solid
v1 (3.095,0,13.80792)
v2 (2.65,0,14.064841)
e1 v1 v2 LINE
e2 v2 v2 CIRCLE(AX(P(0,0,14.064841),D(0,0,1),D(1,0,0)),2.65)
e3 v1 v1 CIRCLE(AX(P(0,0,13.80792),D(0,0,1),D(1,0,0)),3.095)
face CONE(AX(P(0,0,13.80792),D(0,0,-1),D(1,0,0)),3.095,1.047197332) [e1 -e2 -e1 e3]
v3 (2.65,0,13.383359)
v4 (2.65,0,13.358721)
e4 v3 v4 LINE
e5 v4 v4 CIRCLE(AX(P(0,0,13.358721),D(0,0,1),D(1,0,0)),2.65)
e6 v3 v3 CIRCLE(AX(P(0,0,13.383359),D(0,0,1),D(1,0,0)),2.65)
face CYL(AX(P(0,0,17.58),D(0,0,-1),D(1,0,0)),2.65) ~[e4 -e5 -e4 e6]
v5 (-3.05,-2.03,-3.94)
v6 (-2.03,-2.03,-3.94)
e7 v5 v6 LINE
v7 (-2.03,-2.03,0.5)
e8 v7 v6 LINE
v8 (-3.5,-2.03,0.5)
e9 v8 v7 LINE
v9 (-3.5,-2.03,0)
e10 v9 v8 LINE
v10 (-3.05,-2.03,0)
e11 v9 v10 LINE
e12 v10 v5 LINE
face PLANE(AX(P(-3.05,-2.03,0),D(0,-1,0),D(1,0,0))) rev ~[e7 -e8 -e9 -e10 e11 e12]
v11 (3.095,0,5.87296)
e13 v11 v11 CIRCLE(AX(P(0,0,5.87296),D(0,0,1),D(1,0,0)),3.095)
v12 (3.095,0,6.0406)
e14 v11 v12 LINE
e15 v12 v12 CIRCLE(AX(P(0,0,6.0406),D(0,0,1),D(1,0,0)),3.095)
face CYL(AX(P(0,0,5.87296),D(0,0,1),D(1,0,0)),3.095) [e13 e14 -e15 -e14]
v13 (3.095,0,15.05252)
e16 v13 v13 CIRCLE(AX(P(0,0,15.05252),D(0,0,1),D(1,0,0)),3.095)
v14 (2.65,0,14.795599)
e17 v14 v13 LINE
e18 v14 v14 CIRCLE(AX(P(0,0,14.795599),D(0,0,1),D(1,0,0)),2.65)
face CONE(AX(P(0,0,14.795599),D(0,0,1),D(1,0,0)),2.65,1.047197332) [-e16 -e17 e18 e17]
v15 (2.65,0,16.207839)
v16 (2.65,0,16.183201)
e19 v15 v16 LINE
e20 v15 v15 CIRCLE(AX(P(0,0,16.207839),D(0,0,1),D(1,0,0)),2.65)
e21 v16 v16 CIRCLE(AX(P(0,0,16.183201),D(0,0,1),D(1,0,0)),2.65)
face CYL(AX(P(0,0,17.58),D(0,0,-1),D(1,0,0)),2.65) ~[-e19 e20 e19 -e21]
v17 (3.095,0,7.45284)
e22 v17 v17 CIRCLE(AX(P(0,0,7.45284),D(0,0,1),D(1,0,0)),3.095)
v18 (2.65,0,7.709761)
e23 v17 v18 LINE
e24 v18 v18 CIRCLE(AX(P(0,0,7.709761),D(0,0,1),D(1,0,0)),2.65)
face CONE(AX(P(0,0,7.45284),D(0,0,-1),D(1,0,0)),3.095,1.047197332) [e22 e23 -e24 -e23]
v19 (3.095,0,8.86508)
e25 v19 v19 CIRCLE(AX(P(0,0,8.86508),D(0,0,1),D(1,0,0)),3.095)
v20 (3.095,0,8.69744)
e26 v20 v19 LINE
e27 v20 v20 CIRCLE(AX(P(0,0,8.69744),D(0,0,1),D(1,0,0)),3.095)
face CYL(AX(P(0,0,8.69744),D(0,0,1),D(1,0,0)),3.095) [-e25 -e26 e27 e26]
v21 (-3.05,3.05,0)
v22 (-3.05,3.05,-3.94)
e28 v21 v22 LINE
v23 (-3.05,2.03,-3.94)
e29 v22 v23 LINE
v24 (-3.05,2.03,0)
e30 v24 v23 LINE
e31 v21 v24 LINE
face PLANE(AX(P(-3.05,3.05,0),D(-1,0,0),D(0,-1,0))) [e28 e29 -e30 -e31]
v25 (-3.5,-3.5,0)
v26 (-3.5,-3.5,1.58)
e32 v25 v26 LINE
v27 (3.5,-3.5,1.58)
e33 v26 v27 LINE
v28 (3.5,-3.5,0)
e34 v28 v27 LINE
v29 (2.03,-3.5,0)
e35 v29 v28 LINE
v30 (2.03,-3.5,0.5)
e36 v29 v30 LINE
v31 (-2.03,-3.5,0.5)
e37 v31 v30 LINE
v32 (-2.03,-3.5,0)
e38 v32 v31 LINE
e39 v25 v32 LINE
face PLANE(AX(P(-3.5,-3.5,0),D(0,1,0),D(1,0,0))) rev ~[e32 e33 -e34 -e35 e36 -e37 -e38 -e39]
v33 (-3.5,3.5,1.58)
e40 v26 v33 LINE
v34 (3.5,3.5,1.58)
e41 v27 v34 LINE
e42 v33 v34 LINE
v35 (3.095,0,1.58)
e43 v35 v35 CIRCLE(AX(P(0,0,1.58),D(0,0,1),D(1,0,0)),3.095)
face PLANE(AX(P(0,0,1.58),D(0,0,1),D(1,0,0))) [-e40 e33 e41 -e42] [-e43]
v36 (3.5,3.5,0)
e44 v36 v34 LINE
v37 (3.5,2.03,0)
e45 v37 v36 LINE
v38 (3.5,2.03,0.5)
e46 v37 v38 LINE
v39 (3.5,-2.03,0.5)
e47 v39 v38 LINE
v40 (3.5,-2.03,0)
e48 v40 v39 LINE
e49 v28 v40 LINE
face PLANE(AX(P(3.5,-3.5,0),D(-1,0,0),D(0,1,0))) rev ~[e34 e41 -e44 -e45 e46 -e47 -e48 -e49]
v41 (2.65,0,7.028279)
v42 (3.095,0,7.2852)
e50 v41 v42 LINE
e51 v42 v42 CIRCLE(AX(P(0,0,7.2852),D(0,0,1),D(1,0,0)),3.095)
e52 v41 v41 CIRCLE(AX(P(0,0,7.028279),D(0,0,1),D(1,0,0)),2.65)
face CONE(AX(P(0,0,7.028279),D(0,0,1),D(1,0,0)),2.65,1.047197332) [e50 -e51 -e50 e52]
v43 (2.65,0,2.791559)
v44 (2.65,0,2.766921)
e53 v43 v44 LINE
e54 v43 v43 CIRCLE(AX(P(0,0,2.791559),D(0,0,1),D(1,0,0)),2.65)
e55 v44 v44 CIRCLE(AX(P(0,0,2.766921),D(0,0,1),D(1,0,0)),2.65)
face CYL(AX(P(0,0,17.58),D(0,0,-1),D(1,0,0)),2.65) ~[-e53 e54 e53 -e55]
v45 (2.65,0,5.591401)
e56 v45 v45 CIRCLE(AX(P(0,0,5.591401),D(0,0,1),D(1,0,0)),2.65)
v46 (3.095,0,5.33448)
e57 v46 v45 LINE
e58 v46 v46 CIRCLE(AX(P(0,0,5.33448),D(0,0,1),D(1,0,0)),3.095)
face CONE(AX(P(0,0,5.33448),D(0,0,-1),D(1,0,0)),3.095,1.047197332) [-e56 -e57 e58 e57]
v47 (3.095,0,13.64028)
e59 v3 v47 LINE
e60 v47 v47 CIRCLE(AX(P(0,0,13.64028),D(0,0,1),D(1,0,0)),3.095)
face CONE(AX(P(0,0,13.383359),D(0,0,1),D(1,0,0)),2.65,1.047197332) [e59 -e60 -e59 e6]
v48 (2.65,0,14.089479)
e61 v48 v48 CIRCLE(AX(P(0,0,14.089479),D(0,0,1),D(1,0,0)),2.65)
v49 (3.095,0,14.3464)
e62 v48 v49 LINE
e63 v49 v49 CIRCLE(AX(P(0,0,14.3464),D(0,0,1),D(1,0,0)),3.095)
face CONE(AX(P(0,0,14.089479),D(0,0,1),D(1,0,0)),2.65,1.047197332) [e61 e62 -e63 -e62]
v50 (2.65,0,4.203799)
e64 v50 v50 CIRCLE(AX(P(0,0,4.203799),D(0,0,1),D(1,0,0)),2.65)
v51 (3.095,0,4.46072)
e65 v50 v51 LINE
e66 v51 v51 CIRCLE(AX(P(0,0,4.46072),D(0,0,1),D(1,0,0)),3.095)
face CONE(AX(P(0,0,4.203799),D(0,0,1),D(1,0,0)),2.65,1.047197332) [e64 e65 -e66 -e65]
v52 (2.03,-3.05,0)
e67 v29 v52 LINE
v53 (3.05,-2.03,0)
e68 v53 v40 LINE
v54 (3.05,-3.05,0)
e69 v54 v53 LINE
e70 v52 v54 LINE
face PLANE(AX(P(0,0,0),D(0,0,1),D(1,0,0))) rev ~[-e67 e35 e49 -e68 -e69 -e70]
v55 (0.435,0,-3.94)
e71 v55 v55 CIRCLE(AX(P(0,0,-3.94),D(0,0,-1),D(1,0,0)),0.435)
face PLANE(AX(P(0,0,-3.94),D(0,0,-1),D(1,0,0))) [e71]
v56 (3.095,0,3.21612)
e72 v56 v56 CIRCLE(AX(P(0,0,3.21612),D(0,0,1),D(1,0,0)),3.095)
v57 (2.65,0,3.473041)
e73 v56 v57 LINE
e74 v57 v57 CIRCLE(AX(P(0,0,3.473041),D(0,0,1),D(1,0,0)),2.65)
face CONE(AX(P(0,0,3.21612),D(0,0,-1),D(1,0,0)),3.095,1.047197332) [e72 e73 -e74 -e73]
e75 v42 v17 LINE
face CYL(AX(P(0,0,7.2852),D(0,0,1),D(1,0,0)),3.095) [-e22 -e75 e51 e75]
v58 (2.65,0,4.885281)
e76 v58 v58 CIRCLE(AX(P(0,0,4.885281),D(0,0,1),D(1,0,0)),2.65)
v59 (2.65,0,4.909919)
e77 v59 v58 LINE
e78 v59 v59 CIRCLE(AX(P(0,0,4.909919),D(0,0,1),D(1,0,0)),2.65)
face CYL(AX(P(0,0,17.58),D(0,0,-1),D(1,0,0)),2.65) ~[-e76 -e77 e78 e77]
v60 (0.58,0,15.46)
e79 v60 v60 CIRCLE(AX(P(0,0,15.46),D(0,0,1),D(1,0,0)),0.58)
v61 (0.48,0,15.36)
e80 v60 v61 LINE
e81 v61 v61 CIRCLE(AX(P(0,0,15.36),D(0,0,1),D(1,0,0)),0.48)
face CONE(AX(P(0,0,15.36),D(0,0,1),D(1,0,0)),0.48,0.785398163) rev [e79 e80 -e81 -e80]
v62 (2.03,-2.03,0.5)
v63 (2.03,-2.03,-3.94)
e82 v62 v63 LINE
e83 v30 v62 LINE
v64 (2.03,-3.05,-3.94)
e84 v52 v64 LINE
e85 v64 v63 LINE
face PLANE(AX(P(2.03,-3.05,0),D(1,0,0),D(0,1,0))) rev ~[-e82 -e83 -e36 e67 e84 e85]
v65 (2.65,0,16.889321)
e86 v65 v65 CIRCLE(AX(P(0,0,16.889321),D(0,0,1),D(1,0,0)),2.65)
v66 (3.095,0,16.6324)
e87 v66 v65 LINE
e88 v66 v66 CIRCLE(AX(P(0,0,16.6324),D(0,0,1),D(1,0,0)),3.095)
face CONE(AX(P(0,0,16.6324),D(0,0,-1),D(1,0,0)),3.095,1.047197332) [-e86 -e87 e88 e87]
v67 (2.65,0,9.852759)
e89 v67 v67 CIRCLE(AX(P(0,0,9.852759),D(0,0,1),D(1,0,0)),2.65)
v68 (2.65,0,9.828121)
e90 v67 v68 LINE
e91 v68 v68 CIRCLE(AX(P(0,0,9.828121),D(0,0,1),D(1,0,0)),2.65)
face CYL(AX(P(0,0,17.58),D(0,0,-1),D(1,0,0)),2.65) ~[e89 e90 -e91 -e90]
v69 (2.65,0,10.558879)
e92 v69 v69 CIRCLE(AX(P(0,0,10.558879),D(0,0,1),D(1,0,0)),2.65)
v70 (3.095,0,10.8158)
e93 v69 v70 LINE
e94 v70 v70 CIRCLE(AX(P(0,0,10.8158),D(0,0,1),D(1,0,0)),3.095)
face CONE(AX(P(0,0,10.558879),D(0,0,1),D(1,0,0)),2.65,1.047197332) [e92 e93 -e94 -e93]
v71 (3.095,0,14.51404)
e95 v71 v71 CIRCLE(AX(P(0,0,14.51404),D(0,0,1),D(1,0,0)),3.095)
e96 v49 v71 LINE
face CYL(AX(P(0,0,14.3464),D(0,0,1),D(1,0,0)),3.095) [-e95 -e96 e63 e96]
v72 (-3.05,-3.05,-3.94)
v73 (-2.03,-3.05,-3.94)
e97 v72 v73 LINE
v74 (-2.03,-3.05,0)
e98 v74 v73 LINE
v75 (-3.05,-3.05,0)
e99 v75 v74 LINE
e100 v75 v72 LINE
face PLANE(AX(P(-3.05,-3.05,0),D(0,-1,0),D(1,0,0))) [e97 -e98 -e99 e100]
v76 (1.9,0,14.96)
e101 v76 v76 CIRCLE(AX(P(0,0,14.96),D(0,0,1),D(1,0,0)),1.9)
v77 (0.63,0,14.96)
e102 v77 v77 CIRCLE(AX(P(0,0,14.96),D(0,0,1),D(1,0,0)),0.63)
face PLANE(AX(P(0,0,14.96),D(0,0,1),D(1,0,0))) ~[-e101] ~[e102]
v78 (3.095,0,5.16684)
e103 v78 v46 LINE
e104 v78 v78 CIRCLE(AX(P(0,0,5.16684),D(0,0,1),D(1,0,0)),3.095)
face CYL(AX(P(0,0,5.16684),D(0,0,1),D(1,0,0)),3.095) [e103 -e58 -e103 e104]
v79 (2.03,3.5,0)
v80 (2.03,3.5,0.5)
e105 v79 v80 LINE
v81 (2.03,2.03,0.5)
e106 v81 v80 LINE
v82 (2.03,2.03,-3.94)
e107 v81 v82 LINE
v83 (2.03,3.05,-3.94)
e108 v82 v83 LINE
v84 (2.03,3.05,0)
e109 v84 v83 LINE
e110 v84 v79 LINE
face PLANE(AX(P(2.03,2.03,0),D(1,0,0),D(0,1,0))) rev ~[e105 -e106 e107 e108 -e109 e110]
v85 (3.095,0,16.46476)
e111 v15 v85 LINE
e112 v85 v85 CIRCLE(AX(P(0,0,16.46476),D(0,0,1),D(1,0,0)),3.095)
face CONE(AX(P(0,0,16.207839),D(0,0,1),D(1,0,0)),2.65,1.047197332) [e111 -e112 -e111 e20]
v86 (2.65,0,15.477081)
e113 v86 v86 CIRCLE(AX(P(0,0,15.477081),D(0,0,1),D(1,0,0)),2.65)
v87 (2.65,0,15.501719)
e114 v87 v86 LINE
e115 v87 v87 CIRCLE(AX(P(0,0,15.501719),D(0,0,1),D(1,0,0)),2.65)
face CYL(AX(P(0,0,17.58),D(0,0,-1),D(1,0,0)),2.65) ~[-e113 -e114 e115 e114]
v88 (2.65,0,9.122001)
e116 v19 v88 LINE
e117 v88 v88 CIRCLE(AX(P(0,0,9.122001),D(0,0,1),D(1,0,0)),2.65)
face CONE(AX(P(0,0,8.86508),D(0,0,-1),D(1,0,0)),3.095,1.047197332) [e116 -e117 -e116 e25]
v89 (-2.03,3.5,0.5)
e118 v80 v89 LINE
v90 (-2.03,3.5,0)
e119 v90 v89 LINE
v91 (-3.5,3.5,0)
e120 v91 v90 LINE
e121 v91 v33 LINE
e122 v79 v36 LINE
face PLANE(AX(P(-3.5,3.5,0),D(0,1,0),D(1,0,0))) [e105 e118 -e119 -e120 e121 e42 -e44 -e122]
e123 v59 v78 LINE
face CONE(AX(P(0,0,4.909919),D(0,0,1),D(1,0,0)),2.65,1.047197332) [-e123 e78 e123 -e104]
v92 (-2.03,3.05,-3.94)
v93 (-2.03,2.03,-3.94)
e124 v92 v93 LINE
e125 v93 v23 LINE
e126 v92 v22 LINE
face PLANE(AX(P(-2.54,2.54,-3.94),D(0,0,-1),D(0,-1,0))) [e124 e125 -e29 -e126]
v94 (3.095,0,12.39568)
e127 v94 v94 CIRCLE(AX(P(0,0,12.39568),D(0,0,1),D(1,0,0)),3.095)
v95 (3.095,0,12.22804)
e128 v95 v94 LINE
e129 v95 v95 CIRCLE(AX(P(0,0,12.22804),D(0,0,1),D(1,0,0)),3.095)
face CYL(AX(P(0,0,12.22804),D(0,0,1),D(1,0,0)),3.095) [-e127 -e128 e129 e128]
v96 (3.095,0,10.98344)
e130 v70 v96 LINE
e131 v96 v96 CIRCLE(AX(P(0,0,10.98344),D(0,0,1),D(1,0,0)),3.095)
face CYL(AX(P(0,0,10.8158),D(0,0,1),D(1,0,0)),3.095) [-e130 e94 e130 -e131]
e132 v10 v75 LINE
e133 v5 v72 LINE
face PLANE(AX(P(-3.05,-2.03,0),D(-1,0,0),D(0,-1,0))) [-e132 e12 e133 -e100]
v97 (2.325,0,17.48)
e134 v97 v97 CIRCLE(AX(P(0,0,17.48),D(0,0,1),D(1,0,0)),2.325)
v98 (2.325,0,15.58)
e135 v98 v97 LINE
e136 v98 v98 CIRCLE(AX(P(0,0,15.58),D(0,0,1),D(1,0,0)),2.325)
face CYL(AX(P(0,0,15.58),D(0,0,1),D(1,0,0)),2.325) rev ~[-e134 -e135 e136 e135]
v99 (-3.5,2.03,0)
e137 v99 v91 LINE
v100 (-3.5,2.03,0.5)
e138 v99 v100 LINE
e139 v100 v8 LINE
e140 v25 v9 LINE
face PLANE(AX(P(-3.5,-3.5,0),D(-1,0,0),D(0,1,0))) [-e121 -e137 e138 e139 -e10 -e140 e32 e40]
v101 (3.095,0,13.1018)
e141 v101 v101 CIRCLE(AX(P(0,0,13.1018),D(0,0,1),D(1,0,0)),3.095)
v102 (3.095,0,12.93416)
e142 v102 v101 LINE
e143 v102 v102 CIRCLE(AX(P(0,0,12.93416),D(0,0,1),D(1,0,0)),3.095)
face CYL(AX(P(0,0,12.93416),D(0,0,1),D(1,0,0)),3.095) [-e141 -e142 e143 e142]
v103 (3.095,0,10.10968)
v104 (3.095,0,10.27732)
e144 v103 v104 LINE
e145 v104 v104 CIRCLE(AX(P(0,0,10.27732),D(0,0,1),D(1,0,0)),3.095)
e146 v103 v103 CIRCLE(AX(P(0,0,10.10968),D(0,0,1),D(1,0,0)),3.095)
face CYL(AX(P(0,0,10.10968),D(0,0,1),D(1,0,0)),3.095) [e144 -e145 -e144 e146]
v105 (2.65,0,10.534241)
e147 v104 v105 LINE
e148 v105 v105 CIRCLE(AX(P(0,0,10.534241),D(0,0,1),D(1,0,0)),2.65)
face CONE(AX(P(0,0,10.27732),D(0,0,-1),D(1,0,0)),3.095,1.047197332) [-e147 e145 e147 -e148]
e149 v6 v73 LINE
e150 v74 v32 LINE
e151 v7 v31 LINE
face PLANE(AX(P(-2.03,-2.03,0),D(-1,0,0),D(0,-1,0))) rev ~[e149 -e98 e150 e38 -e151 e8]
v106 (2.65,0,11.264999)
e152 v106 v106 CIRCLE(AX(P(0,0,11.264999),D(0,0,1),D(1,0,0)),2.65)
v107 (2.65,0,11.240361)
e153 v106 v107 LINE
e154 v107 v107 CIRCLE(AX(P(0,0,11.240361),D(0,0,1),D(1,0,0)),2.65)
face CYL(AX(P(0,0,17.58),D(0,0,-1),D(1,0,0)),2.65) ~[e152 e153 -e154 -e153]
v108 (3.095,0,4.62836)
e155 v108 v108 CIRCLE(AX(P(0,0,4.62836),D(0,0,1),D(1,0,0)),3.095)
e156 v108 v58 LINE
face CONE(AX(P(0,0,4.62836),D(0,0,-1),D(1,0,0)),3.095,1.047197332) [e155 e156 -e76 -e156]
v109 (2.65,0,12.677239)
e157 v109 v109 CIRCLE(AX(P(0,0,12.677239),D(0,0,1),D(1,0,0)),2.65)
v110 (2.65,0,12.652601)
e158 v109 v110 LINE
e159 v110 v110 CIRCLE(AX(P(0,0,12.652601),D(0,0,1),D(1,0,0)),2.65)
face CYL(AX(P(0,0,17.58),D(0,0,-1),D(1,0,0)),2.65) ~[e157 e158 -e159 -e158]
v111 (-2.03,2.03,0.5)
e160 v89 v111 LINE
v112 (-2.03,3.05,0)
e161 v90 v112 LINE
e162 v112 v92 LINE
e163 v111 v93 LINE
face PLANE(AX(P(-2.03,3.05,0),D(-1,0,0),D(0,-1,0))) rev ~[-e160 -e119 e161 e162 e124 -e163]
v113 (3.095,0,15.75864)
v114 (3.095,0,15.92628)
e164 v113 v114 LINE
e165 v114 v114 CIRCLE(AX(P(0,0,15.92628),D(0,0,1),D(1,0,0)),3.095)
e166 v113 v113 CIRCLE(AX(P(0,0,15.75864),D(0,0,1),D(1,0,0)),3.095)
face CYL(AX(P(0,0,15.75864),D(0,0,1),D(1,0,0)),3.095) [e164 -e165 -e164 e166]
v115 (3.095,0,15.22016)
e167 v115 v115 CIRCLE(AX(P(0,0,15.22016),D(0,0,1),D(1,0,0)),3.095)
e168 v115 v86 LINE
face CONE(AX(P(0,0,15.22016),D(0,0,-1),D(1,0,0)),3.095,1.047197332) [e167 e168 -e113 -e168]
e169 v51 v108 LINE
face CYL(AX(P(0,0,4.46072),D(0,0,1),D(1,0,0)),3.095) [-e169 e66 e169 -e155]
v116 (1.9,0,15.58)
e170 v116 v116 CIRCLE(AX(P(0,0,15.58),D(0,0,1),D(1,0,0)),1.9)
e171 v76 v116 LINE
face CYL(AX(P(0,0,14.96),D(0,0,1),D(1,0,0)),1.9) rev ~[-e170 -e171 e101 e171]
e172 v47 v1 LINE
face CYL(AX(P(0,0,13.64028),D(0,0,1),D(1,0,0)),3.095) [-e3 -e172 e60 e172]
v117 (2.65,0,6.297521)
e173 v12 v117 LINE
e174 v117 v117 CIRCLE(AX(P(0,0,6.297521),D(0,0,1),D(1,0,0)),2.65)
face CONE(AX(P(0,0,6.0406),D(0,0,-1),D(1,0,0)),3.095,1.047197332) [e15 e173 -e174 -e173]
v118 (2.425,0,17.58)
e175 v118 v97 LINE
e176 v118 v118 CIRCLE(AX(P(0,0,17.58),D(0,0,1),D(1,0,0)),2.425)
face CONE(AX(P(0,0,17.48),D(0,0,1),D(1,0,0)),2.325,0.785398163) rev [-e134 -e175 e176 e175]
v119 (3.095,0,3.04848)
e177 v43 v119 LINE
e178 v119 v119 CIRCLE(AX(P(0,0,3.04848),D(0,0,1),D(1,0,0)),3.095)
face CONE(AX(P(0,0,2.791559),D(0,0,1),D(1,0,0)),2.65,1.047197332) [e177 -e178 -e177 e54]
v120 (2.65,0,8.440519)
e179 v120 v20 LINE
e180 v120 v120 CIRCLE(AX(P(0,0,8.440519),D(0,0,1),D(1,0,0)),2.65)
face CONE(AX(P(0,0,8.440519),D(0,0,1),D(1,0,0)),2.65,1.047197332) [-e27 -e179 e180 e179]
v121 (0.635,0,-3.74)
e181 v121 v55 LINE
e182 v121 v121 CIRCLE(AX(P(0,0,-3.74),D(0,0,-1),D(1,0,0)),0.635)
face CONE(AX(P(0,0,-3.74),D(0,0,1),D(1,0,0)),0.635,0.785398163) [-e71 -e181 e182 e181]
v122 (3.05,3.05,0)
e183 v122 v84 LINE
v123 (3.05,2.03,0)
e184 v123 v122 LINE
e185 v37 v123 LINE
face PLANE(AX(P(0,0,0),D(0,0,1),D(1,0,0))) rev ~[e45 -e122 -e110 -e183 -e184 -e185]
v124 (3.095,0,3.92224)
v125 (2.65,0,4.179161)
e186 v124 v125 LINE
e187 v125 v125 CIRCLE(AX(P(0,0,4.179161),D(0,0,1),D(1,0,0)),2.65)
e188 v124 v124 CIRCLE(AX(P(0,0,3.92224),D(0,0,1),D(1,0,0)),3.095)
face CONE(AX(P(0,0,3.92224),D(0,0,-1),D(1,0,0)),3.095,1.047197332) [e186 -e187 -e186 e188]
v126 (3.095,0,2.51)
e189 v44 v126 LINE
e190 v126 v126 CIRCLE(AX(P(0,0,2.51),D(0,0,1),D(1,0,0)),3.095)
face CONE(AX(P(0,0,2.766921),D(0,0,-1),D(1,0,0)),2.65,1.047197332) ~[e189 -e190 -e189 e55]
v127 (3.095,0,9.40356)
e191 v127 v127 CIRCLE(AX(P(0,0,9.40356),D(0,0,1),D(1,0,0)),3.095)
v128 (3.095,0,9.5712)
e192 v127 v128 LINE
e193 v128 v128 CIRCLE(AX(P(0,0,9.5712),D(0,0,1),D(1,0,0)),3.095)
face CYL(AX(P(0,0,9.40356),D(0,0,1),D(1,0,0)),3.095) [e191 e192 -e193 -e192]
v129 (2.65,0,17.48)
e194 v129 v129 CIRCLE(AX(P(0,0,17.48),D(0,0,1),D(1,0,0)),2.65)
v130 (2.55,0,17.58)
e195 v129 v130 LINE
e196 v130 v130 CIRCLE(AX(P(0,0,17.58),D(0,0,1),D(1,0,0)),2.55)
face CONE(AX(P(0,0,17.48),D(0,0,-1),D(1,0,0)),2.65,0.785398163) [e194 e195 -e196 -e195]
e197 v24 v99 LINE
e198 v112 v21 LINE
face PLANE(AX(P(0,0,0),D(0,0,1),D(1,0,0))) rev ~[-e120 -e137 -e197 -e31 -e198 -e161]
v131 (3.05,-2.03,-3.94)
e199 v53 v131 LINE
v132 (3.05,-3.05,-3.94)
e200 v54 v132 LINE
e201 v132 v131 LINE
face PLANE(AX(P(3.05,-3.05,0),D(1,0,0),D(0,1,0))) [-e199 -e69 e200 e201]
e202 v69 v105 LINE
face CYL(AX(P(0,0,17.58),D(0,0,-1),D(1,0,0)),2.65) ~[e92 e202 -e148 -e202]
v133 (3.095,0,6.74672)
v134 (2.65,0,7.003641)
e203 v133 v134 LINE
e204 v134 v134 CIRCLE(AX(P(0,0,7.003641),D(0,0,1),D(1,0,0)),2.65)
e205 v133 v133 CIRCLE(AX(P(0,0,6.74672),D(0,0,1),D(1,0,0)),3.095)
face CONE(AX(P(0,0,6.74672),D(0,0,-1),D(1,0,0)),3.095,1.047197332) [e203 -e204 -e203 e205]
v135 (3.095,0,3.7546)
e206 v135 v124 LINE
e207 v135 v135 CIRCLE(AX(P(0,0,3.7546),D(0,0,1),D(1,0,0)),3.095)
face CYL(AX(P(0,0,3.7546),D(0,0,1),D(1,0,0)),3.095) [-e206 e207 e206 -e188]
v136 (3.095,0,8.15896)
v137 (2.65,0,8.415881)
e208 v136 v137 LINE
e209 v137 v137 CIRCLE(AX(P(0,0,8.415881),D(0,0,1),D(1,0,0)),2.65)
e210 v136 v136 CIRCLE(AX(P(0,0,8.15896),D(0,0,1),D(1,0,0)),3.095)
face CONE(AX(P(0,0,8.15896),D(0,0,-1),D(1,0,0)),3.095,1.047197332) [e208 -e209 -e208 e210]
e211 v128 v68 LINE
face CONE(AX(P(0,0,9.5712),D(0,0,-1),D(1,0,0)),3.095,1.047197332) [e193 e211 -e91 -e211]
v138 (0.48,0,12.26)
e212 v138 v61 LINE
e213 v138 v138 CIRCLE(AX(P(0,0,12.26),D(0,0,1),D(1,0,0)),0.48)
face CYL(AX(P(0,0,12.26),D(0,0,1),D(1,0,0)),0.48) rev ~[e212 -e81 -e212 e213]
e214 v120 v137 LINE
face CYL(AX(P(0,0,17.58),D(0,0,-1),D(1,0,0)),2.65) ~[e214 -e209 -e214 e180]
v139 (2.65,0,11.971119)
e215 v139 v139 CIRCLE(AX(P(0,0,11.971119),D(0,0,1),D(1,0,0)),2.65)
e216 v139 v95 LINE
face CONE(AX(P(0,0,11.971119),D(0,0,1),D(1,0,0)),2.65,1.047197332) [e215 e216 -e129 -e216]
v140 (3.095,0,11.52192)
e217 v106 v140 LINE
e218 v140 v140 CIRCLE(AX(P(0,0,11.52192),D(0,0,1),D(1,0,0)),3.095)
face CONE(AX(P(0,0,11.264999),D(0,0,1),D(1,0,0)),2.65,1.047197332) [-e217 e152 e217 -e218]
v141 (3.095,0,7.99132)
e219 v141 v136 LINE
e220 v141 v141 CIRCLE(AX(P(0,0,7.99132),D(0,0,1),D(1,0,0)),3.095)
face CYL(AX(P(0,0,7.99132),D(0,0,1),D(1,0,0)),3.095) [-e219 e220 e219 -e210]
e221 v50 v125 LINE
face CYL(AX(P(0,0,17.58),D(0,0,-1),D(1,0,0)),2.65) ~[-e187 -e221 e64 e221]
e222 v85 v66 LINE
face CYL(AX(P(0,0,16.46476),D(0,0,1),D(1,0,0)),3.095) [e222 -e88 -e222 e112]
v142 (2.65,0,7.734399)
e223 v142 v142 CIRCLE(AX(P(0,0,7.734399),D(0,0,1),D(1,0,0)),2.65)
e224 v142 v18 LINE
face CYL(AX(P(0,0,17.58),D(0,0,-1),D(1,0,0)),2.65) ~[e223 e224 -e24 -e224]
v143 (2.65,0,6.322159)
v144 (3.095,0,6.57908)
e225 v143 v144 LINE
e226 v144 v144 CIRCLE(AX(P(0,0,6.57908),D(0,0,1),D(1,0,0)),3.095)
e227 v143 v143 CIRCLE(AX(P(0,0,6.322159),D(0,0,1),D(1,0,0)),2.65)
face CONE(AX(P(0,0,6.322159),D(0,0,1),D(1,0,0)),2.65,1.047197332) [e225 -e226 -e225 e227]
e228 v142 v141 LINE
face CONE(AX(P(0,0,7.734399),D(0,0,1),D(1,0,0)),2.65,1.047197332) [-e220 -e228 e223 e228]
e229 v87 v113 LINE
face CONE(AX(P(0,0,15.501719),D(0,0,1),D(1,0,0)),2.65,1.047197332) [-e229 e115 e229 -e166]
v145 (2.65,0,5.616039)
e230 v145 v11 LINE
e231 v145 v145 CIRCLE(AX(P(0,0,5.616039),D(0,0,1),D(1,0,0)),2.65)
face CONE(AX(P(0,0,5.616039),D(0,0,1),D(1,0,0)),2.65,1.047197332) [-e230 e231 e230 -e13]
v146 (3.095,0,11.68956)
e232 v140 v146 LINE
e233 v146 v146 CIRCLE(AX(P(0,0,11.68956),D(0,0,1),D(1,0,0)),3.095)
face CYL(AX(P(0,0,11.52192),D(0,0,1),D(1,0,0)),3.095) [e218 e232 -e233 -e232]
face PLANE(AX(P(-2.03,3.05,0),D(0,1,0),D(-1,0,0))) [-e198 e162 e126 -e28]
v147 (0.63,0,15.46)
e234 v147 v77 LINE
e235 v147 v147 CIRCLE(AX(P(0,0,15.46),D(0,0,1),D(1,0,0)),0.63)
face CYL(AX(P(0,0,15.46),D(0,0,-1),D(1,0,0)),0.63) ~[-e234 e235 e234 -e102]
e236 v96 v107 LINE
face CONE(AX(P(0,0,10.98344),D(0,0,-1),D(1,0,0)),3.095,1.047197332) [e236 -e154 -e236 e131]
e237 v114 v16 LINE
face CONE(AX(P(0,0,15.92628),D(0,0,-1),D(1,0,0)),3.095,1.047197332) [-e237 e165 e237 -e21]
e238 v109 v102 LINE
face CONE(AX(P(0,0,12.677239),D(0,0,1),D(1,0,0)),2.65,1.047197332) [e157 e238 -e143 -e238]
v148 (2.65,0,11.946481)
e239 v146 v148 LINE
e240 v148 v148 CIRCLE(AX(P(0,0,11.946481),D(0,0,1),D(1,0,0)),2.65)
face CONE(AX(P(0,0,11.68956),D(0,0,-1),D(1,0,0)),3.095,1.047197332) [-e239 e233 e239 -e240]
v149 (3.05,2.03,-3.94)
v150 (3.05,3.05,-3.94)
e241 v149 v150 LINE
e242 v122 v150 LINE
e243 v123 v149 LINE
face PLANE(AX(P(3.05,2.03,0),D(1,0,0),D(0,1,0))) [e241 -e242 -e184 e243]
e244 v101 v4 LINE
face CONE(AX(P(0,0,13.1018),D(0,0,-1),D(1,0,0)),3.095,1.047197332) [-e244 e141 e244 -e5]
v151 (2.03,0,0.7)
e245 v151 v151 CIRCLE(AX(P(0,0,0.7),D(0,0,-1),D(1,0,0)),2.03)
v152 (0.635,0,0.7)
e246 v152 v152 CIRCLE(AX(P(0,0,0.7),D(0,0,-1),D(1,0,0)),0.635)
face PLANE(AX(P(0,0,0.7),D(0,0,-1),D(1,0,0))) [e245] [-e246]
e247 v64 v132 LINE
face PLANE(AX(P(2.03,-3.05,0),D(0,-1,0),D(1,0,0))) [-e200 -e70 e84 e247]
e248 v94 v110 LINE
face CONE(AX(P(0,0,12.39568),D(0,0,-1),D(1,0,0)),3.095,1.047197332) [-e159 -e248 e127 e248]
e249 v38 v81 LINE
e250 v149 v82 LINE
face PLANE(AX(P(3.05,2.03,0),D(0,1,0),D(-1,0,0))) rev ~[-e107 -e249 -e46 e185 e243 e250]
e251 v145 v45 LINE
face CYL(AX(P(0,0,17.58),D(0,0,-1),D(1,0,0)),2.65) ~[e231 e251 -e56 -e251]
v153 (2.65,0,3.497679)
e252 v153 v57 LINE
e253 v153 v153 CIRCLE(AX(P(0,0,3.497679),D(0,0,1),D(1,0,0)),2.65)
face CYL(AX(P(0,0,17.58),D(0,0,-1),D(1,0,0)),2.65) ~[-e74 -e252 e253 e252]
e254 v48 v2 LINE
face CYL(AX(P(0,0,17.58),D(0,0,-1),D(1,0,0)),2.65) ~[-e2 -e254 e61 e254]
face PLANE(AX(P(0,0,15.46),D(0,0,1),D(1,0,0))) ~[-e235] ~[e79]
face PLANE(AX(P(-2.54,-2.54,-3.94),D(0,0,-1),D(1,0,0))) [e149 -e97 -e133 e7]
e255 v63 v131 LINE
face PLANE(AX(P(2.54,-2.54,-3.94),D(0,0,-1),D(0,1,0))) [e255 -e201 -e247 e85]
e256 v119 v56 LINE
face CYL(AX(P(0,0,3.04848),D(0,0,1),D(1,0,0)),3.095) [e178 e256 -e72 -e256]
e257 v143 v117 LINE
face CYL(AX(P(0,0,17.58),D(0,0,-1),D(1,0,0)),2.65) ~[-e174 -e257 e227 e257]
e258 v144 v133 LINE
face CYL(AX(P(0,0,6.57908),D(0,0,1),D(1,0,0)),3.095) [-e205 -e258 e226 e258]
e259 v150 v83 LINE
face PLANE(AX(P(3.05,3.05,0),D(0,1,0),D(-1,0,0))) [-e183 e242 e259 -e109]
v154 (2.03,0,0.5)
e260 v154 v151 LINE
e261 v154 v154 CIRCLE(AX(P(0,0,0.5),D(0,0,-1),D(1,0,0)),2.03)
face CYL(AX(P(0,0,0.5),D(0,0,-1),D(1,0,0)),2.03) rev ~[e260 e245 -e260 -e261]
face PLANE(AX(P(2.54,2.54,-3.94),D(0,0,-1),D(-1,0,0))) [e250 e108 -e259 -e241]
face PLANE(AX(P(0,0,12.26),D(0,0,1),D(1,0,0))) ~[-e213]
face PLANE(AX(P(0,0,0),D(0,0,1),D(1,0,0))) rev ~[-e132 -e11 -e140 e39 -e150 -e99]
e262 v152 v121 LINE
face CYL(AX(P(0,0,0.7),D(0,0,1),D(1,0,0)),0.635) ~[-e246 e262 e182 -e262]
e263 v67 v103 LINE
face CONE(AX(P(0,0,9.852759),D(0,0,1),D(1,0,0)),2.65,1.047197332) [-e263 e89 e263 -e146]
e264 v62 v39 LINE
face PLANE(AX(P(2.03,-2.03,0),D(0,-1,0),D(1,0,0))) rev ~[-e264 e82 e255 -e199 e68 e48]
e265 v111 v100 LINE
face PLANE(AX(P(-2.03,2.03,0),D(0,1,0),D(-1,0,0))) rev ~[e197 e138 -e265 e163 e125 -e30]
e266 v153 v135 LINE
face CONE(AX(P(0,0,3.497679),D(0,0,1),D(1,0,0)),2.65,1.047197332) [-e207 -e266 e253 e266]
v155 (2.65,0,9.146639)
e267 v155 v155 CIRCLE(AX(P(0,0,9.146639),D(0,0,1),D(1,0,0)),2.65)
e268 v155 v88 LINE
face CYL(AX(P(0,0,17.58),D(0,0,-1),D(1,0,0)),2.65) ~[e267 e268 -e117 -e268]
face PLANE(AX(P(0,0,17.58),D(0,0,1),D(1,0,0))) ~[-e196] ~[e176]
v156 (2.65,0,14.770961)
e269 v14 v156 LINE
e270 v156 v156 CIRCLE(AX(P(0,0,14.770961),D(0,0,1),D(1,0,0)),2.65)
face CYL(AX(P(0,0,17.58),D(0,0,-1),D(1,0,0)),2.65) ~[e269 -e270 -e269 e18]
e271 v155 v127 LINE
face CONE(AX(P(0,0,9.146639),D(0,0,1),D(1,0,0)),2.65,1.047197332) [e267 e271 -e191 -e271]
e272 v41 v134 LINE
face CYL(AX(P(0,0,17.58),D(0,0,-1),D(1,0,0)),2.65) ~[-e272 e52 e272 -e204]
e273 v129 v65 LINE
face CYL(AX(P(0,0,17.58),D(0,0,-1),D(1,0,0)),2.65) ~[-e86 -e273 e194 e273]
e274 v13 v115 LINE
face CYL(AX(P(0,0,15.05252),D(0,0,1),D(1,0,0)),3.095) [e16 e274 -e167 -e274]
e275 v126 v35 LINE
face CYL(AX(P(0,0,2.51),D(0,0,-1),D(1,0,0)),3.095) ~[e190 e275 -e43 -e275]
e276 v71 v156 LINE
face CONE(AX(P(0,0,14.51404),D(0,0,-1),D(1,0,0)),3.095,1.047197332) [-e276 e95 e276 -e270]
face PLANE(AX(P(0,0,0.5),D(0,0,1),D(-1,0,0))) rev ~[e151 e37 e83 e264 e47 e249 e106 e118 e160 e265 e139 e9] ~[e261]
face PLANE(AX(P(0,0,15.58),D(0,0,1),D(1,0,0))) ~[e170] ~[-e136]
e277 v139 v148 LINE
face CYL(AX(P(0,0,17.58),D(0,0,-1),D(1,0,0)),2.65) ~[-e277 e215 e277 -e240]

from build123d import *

# Parameters (mm, degrees)
SKETCH_W           = 7
SKETCH_H           = 7
PAD_DEPTH          = 1.58
POCKET_DEPTH       = 0.5
SKETCH002_W        = 1.02
SKETCH002_H        = 1.02
PAD001_DEPTH       = 3.94
POLARPATTERN_COUNT = 4
SKETCH003_R        = 2.03
POCKET001_DEPTH    = 0.2
SKETCH004_R        = 0.635
PAD002_DEPTH       = 4.64
CHAMFER_SIZE       = 0.2
CHAMFER001_SIZE    = 0.1
CHAMFER002_SIZE    = 0.1


with BuildPart() as part:
    # Sketch → Pad (new body)
    with BuildSketch(Plane.XY):
        Rectangle(SKETCH_W, SKETCH_H)
    extrude(amount=PAD_DEPTH)

    # Sketch001 (on Face5 of Pad) → Pocket (cut)
    with BuildSketch(Plane(origin=(0, 0, 0), x_dir=(1, 0, 0), z_dir=(0, 0, -1))):
        Polygon((-3.5, 2.03), (-2.03, 2.03), (-2.03, 3.5), (2.03, 3.5), (2.03, 2.03), (3.5, 2.03), (3.5, -2.03), (2.03, -2.03), (2.03, -3.5), (-2.03, -3.5), (-2.03, -2.03), (-3.5, -2.03), align=None)
    extrude(amount=-POCKET_DEPTH, mode=Mode.SUBTRACT)

    # Sketch002 (on Face6 of Pocket) → Pad001 (join)
    with BuildSketch(Plane(origin=(0, 0, 0), x_dir=(1, 0, 0), z_dir=(0, 0, -1))):
        with Locations((-2.54, 2.54)):
            Rectangle(SKETCH002_W, SKETCH002_H)
    pad001 = extrude(amount=PAD001_DEPTH)

    # PolarPattern: Pad001 ×4 about axis
    polarpattern_axis = Axis((0, 0, 0), (0, 0, -1))
    for i in range(1, POLARPATTERN_COUNT):
        add(pad001.rotate(polarpattern_axis, i * 360 / POLARPATTERN_COUNT))

    # Sketch003 (on Face4 of PolarPattern) → Pocket001 (cut)
    with BuildSketch(Plane(origin=(0, 0, 0.5), x_dir=(1, 0, 0), z_dir=(0, 0, -1))):
        Circle(SKETCH003_R)
    extrude(amount=-POCKET001_DEPTH, mode=Mode.SUBTRACT)

    # Sketch004 (on Face33 of Pocket001) → Pad002 (join)
    with BuildSketch(Plane(origin=(0, 0, 0.7), x_dir=(1, 0, 0), z_dir=(0, 0, -1))):
        Circle(SKETCH004_R)
    extrude(amount=PAD002_DEPTH)

    # Chamfer
    chamfer_edges = [part.edges().sort_by_distance(p)[0] for p in [
        (-0.635, 0, -3.94),
    ]]
    chamfer(chamfer_edges, length=CHAMFER_SIZE)

    # Sketch005 → Revolution (revolve)
    with BuildSketch(Plane.XZ):
        Polygon((0, 1.58), (0, 12.26), (0.48, 12.26), (0.48, 15.46), (0.63, 15.46), (0.63, 14.96), (1.9, 14.96), (1.9, 15.58), (2.325, 15.58), (2.325, 17.58), (2.65, 17.58), (2.65, 2.766921), (3.095, 2.51), (3.095, 1.58), align=None)
    revolve(axis=Axis((0, 0, 0), (0, 0, 1)))

    # Chamfer001
    chamfer001_edges = [part.edges().sort_by_distance(p)[0] for p in [
        (-2.325, 0, 17.58),
        (-2.65, 0, 17.58),
    ]]
    chamfer(chamfer001_edges, length=CHAMFER001_SIZE)

    # Chamfer002
    chamfer002_edges = [part.edges().sort_by_distance(p)[0] for p in [
        (-0.48, 0, 15.46),
    ]]
    chamfer(chamfer002_edges, length=CHAMFER002_SIZE)

    # Sketch006 → Revolution001 (revolve)
    with BuildSketch(Plane.XZ):
        Polygon((2.65, 2.791559), (3.095, 3.04848), (3.095, 3.21612), (2.65, 3.473041), align=None)
        Polygon((2.65, 3.497679), (3.095, 3.7546), (3.095, 3.92224), (2.65, 4.179161), align=None)
        Polygon((2.65, 4.203799), (3.095, 4.46072), (3.095, 4.62836), (2.65, 4.885281), align=None)
        Polygon((2.65, 4.909919), (3.095, 5.16684), (3.095, 5.33448), (2.65, 5.591401), align=None)
        Polygon((2.65, 5.616039), (3.095, 5.87296), (3.095, 6.0406), (2.65, 6.297521), align=None)
        Polygon((2.65, 6.322159), (3.095, 6.57908), (3.095, 6.74672), (2.65, 7.003641), align=None)
        Polygon((2.65, 7.734399), (3.095, 7.99132), (3.095, 8.15896), (2.65, 8.415881), align=None)
        Polygon((2.65, 7.028279), (3.095, 7.2852), (3.095, 7.45284), (2.65, 7.709761), align=None)
        Polygon((2.65, 8.440519), (3.095, 8.69744), (3.095, 8.86508), (2.65, 9.122001), align=None)
        Polygon((2.65, 9.146639), (3.095, 9.40356), (3.095, 9.5712), (2.65, 9.828121), align=None)
        Polygon((2.65, 10.558879), (3.095, 10.8158), (3.095, 10.98344), (2.65, 11.240361), align=None)
        Polygon((2.65, 9.852759), (3.095, 10.10968), (3.095, 10.27732), (2.65, 10.534241), align=None)
        Polygon((2.65, 11.971119), (3.095, 12.22804), (3.095, 12.39568), (2.65, 12.652601), align=None)
        Polygon((2.65, 11.264999), (3.095, 11.52192), (3.095, 11.68956), (2.65, 11.946481), align=None)
        Polygon((2.65, 12.677239), (3.095, 12.93416), (3.095, 13.1018), (2.65, 13.358721), align=None)
        Polygon((2.65, 13.383359), (3.095, 13.64028), (3.095, 13.80792), (2.65, 14.064841), align=None)
        Polygon((2.65, 14.089479), (3.095, 14.3464), (3.095, 14.51404), (2.65, 14.770961), align=None)
        Polygon((2.65, 15.501719), (3.095, 15.75864), (3.095, 15.92628), (2.65, 16.183201), align=None)
        Polygon((2.65, 16.207839), (3.095, 16.46476), (3.095, 16.6324), (2.65, 16.889321), align=None)
        Polygon((2.65, 14.795599), (3.095, 15.05252), (3.095, 15.22016), (2.65, 15.477081), align=None)
    revolve(axis=Axis((0, 0, 0), (0, 0, 1)))


solid = part.part
